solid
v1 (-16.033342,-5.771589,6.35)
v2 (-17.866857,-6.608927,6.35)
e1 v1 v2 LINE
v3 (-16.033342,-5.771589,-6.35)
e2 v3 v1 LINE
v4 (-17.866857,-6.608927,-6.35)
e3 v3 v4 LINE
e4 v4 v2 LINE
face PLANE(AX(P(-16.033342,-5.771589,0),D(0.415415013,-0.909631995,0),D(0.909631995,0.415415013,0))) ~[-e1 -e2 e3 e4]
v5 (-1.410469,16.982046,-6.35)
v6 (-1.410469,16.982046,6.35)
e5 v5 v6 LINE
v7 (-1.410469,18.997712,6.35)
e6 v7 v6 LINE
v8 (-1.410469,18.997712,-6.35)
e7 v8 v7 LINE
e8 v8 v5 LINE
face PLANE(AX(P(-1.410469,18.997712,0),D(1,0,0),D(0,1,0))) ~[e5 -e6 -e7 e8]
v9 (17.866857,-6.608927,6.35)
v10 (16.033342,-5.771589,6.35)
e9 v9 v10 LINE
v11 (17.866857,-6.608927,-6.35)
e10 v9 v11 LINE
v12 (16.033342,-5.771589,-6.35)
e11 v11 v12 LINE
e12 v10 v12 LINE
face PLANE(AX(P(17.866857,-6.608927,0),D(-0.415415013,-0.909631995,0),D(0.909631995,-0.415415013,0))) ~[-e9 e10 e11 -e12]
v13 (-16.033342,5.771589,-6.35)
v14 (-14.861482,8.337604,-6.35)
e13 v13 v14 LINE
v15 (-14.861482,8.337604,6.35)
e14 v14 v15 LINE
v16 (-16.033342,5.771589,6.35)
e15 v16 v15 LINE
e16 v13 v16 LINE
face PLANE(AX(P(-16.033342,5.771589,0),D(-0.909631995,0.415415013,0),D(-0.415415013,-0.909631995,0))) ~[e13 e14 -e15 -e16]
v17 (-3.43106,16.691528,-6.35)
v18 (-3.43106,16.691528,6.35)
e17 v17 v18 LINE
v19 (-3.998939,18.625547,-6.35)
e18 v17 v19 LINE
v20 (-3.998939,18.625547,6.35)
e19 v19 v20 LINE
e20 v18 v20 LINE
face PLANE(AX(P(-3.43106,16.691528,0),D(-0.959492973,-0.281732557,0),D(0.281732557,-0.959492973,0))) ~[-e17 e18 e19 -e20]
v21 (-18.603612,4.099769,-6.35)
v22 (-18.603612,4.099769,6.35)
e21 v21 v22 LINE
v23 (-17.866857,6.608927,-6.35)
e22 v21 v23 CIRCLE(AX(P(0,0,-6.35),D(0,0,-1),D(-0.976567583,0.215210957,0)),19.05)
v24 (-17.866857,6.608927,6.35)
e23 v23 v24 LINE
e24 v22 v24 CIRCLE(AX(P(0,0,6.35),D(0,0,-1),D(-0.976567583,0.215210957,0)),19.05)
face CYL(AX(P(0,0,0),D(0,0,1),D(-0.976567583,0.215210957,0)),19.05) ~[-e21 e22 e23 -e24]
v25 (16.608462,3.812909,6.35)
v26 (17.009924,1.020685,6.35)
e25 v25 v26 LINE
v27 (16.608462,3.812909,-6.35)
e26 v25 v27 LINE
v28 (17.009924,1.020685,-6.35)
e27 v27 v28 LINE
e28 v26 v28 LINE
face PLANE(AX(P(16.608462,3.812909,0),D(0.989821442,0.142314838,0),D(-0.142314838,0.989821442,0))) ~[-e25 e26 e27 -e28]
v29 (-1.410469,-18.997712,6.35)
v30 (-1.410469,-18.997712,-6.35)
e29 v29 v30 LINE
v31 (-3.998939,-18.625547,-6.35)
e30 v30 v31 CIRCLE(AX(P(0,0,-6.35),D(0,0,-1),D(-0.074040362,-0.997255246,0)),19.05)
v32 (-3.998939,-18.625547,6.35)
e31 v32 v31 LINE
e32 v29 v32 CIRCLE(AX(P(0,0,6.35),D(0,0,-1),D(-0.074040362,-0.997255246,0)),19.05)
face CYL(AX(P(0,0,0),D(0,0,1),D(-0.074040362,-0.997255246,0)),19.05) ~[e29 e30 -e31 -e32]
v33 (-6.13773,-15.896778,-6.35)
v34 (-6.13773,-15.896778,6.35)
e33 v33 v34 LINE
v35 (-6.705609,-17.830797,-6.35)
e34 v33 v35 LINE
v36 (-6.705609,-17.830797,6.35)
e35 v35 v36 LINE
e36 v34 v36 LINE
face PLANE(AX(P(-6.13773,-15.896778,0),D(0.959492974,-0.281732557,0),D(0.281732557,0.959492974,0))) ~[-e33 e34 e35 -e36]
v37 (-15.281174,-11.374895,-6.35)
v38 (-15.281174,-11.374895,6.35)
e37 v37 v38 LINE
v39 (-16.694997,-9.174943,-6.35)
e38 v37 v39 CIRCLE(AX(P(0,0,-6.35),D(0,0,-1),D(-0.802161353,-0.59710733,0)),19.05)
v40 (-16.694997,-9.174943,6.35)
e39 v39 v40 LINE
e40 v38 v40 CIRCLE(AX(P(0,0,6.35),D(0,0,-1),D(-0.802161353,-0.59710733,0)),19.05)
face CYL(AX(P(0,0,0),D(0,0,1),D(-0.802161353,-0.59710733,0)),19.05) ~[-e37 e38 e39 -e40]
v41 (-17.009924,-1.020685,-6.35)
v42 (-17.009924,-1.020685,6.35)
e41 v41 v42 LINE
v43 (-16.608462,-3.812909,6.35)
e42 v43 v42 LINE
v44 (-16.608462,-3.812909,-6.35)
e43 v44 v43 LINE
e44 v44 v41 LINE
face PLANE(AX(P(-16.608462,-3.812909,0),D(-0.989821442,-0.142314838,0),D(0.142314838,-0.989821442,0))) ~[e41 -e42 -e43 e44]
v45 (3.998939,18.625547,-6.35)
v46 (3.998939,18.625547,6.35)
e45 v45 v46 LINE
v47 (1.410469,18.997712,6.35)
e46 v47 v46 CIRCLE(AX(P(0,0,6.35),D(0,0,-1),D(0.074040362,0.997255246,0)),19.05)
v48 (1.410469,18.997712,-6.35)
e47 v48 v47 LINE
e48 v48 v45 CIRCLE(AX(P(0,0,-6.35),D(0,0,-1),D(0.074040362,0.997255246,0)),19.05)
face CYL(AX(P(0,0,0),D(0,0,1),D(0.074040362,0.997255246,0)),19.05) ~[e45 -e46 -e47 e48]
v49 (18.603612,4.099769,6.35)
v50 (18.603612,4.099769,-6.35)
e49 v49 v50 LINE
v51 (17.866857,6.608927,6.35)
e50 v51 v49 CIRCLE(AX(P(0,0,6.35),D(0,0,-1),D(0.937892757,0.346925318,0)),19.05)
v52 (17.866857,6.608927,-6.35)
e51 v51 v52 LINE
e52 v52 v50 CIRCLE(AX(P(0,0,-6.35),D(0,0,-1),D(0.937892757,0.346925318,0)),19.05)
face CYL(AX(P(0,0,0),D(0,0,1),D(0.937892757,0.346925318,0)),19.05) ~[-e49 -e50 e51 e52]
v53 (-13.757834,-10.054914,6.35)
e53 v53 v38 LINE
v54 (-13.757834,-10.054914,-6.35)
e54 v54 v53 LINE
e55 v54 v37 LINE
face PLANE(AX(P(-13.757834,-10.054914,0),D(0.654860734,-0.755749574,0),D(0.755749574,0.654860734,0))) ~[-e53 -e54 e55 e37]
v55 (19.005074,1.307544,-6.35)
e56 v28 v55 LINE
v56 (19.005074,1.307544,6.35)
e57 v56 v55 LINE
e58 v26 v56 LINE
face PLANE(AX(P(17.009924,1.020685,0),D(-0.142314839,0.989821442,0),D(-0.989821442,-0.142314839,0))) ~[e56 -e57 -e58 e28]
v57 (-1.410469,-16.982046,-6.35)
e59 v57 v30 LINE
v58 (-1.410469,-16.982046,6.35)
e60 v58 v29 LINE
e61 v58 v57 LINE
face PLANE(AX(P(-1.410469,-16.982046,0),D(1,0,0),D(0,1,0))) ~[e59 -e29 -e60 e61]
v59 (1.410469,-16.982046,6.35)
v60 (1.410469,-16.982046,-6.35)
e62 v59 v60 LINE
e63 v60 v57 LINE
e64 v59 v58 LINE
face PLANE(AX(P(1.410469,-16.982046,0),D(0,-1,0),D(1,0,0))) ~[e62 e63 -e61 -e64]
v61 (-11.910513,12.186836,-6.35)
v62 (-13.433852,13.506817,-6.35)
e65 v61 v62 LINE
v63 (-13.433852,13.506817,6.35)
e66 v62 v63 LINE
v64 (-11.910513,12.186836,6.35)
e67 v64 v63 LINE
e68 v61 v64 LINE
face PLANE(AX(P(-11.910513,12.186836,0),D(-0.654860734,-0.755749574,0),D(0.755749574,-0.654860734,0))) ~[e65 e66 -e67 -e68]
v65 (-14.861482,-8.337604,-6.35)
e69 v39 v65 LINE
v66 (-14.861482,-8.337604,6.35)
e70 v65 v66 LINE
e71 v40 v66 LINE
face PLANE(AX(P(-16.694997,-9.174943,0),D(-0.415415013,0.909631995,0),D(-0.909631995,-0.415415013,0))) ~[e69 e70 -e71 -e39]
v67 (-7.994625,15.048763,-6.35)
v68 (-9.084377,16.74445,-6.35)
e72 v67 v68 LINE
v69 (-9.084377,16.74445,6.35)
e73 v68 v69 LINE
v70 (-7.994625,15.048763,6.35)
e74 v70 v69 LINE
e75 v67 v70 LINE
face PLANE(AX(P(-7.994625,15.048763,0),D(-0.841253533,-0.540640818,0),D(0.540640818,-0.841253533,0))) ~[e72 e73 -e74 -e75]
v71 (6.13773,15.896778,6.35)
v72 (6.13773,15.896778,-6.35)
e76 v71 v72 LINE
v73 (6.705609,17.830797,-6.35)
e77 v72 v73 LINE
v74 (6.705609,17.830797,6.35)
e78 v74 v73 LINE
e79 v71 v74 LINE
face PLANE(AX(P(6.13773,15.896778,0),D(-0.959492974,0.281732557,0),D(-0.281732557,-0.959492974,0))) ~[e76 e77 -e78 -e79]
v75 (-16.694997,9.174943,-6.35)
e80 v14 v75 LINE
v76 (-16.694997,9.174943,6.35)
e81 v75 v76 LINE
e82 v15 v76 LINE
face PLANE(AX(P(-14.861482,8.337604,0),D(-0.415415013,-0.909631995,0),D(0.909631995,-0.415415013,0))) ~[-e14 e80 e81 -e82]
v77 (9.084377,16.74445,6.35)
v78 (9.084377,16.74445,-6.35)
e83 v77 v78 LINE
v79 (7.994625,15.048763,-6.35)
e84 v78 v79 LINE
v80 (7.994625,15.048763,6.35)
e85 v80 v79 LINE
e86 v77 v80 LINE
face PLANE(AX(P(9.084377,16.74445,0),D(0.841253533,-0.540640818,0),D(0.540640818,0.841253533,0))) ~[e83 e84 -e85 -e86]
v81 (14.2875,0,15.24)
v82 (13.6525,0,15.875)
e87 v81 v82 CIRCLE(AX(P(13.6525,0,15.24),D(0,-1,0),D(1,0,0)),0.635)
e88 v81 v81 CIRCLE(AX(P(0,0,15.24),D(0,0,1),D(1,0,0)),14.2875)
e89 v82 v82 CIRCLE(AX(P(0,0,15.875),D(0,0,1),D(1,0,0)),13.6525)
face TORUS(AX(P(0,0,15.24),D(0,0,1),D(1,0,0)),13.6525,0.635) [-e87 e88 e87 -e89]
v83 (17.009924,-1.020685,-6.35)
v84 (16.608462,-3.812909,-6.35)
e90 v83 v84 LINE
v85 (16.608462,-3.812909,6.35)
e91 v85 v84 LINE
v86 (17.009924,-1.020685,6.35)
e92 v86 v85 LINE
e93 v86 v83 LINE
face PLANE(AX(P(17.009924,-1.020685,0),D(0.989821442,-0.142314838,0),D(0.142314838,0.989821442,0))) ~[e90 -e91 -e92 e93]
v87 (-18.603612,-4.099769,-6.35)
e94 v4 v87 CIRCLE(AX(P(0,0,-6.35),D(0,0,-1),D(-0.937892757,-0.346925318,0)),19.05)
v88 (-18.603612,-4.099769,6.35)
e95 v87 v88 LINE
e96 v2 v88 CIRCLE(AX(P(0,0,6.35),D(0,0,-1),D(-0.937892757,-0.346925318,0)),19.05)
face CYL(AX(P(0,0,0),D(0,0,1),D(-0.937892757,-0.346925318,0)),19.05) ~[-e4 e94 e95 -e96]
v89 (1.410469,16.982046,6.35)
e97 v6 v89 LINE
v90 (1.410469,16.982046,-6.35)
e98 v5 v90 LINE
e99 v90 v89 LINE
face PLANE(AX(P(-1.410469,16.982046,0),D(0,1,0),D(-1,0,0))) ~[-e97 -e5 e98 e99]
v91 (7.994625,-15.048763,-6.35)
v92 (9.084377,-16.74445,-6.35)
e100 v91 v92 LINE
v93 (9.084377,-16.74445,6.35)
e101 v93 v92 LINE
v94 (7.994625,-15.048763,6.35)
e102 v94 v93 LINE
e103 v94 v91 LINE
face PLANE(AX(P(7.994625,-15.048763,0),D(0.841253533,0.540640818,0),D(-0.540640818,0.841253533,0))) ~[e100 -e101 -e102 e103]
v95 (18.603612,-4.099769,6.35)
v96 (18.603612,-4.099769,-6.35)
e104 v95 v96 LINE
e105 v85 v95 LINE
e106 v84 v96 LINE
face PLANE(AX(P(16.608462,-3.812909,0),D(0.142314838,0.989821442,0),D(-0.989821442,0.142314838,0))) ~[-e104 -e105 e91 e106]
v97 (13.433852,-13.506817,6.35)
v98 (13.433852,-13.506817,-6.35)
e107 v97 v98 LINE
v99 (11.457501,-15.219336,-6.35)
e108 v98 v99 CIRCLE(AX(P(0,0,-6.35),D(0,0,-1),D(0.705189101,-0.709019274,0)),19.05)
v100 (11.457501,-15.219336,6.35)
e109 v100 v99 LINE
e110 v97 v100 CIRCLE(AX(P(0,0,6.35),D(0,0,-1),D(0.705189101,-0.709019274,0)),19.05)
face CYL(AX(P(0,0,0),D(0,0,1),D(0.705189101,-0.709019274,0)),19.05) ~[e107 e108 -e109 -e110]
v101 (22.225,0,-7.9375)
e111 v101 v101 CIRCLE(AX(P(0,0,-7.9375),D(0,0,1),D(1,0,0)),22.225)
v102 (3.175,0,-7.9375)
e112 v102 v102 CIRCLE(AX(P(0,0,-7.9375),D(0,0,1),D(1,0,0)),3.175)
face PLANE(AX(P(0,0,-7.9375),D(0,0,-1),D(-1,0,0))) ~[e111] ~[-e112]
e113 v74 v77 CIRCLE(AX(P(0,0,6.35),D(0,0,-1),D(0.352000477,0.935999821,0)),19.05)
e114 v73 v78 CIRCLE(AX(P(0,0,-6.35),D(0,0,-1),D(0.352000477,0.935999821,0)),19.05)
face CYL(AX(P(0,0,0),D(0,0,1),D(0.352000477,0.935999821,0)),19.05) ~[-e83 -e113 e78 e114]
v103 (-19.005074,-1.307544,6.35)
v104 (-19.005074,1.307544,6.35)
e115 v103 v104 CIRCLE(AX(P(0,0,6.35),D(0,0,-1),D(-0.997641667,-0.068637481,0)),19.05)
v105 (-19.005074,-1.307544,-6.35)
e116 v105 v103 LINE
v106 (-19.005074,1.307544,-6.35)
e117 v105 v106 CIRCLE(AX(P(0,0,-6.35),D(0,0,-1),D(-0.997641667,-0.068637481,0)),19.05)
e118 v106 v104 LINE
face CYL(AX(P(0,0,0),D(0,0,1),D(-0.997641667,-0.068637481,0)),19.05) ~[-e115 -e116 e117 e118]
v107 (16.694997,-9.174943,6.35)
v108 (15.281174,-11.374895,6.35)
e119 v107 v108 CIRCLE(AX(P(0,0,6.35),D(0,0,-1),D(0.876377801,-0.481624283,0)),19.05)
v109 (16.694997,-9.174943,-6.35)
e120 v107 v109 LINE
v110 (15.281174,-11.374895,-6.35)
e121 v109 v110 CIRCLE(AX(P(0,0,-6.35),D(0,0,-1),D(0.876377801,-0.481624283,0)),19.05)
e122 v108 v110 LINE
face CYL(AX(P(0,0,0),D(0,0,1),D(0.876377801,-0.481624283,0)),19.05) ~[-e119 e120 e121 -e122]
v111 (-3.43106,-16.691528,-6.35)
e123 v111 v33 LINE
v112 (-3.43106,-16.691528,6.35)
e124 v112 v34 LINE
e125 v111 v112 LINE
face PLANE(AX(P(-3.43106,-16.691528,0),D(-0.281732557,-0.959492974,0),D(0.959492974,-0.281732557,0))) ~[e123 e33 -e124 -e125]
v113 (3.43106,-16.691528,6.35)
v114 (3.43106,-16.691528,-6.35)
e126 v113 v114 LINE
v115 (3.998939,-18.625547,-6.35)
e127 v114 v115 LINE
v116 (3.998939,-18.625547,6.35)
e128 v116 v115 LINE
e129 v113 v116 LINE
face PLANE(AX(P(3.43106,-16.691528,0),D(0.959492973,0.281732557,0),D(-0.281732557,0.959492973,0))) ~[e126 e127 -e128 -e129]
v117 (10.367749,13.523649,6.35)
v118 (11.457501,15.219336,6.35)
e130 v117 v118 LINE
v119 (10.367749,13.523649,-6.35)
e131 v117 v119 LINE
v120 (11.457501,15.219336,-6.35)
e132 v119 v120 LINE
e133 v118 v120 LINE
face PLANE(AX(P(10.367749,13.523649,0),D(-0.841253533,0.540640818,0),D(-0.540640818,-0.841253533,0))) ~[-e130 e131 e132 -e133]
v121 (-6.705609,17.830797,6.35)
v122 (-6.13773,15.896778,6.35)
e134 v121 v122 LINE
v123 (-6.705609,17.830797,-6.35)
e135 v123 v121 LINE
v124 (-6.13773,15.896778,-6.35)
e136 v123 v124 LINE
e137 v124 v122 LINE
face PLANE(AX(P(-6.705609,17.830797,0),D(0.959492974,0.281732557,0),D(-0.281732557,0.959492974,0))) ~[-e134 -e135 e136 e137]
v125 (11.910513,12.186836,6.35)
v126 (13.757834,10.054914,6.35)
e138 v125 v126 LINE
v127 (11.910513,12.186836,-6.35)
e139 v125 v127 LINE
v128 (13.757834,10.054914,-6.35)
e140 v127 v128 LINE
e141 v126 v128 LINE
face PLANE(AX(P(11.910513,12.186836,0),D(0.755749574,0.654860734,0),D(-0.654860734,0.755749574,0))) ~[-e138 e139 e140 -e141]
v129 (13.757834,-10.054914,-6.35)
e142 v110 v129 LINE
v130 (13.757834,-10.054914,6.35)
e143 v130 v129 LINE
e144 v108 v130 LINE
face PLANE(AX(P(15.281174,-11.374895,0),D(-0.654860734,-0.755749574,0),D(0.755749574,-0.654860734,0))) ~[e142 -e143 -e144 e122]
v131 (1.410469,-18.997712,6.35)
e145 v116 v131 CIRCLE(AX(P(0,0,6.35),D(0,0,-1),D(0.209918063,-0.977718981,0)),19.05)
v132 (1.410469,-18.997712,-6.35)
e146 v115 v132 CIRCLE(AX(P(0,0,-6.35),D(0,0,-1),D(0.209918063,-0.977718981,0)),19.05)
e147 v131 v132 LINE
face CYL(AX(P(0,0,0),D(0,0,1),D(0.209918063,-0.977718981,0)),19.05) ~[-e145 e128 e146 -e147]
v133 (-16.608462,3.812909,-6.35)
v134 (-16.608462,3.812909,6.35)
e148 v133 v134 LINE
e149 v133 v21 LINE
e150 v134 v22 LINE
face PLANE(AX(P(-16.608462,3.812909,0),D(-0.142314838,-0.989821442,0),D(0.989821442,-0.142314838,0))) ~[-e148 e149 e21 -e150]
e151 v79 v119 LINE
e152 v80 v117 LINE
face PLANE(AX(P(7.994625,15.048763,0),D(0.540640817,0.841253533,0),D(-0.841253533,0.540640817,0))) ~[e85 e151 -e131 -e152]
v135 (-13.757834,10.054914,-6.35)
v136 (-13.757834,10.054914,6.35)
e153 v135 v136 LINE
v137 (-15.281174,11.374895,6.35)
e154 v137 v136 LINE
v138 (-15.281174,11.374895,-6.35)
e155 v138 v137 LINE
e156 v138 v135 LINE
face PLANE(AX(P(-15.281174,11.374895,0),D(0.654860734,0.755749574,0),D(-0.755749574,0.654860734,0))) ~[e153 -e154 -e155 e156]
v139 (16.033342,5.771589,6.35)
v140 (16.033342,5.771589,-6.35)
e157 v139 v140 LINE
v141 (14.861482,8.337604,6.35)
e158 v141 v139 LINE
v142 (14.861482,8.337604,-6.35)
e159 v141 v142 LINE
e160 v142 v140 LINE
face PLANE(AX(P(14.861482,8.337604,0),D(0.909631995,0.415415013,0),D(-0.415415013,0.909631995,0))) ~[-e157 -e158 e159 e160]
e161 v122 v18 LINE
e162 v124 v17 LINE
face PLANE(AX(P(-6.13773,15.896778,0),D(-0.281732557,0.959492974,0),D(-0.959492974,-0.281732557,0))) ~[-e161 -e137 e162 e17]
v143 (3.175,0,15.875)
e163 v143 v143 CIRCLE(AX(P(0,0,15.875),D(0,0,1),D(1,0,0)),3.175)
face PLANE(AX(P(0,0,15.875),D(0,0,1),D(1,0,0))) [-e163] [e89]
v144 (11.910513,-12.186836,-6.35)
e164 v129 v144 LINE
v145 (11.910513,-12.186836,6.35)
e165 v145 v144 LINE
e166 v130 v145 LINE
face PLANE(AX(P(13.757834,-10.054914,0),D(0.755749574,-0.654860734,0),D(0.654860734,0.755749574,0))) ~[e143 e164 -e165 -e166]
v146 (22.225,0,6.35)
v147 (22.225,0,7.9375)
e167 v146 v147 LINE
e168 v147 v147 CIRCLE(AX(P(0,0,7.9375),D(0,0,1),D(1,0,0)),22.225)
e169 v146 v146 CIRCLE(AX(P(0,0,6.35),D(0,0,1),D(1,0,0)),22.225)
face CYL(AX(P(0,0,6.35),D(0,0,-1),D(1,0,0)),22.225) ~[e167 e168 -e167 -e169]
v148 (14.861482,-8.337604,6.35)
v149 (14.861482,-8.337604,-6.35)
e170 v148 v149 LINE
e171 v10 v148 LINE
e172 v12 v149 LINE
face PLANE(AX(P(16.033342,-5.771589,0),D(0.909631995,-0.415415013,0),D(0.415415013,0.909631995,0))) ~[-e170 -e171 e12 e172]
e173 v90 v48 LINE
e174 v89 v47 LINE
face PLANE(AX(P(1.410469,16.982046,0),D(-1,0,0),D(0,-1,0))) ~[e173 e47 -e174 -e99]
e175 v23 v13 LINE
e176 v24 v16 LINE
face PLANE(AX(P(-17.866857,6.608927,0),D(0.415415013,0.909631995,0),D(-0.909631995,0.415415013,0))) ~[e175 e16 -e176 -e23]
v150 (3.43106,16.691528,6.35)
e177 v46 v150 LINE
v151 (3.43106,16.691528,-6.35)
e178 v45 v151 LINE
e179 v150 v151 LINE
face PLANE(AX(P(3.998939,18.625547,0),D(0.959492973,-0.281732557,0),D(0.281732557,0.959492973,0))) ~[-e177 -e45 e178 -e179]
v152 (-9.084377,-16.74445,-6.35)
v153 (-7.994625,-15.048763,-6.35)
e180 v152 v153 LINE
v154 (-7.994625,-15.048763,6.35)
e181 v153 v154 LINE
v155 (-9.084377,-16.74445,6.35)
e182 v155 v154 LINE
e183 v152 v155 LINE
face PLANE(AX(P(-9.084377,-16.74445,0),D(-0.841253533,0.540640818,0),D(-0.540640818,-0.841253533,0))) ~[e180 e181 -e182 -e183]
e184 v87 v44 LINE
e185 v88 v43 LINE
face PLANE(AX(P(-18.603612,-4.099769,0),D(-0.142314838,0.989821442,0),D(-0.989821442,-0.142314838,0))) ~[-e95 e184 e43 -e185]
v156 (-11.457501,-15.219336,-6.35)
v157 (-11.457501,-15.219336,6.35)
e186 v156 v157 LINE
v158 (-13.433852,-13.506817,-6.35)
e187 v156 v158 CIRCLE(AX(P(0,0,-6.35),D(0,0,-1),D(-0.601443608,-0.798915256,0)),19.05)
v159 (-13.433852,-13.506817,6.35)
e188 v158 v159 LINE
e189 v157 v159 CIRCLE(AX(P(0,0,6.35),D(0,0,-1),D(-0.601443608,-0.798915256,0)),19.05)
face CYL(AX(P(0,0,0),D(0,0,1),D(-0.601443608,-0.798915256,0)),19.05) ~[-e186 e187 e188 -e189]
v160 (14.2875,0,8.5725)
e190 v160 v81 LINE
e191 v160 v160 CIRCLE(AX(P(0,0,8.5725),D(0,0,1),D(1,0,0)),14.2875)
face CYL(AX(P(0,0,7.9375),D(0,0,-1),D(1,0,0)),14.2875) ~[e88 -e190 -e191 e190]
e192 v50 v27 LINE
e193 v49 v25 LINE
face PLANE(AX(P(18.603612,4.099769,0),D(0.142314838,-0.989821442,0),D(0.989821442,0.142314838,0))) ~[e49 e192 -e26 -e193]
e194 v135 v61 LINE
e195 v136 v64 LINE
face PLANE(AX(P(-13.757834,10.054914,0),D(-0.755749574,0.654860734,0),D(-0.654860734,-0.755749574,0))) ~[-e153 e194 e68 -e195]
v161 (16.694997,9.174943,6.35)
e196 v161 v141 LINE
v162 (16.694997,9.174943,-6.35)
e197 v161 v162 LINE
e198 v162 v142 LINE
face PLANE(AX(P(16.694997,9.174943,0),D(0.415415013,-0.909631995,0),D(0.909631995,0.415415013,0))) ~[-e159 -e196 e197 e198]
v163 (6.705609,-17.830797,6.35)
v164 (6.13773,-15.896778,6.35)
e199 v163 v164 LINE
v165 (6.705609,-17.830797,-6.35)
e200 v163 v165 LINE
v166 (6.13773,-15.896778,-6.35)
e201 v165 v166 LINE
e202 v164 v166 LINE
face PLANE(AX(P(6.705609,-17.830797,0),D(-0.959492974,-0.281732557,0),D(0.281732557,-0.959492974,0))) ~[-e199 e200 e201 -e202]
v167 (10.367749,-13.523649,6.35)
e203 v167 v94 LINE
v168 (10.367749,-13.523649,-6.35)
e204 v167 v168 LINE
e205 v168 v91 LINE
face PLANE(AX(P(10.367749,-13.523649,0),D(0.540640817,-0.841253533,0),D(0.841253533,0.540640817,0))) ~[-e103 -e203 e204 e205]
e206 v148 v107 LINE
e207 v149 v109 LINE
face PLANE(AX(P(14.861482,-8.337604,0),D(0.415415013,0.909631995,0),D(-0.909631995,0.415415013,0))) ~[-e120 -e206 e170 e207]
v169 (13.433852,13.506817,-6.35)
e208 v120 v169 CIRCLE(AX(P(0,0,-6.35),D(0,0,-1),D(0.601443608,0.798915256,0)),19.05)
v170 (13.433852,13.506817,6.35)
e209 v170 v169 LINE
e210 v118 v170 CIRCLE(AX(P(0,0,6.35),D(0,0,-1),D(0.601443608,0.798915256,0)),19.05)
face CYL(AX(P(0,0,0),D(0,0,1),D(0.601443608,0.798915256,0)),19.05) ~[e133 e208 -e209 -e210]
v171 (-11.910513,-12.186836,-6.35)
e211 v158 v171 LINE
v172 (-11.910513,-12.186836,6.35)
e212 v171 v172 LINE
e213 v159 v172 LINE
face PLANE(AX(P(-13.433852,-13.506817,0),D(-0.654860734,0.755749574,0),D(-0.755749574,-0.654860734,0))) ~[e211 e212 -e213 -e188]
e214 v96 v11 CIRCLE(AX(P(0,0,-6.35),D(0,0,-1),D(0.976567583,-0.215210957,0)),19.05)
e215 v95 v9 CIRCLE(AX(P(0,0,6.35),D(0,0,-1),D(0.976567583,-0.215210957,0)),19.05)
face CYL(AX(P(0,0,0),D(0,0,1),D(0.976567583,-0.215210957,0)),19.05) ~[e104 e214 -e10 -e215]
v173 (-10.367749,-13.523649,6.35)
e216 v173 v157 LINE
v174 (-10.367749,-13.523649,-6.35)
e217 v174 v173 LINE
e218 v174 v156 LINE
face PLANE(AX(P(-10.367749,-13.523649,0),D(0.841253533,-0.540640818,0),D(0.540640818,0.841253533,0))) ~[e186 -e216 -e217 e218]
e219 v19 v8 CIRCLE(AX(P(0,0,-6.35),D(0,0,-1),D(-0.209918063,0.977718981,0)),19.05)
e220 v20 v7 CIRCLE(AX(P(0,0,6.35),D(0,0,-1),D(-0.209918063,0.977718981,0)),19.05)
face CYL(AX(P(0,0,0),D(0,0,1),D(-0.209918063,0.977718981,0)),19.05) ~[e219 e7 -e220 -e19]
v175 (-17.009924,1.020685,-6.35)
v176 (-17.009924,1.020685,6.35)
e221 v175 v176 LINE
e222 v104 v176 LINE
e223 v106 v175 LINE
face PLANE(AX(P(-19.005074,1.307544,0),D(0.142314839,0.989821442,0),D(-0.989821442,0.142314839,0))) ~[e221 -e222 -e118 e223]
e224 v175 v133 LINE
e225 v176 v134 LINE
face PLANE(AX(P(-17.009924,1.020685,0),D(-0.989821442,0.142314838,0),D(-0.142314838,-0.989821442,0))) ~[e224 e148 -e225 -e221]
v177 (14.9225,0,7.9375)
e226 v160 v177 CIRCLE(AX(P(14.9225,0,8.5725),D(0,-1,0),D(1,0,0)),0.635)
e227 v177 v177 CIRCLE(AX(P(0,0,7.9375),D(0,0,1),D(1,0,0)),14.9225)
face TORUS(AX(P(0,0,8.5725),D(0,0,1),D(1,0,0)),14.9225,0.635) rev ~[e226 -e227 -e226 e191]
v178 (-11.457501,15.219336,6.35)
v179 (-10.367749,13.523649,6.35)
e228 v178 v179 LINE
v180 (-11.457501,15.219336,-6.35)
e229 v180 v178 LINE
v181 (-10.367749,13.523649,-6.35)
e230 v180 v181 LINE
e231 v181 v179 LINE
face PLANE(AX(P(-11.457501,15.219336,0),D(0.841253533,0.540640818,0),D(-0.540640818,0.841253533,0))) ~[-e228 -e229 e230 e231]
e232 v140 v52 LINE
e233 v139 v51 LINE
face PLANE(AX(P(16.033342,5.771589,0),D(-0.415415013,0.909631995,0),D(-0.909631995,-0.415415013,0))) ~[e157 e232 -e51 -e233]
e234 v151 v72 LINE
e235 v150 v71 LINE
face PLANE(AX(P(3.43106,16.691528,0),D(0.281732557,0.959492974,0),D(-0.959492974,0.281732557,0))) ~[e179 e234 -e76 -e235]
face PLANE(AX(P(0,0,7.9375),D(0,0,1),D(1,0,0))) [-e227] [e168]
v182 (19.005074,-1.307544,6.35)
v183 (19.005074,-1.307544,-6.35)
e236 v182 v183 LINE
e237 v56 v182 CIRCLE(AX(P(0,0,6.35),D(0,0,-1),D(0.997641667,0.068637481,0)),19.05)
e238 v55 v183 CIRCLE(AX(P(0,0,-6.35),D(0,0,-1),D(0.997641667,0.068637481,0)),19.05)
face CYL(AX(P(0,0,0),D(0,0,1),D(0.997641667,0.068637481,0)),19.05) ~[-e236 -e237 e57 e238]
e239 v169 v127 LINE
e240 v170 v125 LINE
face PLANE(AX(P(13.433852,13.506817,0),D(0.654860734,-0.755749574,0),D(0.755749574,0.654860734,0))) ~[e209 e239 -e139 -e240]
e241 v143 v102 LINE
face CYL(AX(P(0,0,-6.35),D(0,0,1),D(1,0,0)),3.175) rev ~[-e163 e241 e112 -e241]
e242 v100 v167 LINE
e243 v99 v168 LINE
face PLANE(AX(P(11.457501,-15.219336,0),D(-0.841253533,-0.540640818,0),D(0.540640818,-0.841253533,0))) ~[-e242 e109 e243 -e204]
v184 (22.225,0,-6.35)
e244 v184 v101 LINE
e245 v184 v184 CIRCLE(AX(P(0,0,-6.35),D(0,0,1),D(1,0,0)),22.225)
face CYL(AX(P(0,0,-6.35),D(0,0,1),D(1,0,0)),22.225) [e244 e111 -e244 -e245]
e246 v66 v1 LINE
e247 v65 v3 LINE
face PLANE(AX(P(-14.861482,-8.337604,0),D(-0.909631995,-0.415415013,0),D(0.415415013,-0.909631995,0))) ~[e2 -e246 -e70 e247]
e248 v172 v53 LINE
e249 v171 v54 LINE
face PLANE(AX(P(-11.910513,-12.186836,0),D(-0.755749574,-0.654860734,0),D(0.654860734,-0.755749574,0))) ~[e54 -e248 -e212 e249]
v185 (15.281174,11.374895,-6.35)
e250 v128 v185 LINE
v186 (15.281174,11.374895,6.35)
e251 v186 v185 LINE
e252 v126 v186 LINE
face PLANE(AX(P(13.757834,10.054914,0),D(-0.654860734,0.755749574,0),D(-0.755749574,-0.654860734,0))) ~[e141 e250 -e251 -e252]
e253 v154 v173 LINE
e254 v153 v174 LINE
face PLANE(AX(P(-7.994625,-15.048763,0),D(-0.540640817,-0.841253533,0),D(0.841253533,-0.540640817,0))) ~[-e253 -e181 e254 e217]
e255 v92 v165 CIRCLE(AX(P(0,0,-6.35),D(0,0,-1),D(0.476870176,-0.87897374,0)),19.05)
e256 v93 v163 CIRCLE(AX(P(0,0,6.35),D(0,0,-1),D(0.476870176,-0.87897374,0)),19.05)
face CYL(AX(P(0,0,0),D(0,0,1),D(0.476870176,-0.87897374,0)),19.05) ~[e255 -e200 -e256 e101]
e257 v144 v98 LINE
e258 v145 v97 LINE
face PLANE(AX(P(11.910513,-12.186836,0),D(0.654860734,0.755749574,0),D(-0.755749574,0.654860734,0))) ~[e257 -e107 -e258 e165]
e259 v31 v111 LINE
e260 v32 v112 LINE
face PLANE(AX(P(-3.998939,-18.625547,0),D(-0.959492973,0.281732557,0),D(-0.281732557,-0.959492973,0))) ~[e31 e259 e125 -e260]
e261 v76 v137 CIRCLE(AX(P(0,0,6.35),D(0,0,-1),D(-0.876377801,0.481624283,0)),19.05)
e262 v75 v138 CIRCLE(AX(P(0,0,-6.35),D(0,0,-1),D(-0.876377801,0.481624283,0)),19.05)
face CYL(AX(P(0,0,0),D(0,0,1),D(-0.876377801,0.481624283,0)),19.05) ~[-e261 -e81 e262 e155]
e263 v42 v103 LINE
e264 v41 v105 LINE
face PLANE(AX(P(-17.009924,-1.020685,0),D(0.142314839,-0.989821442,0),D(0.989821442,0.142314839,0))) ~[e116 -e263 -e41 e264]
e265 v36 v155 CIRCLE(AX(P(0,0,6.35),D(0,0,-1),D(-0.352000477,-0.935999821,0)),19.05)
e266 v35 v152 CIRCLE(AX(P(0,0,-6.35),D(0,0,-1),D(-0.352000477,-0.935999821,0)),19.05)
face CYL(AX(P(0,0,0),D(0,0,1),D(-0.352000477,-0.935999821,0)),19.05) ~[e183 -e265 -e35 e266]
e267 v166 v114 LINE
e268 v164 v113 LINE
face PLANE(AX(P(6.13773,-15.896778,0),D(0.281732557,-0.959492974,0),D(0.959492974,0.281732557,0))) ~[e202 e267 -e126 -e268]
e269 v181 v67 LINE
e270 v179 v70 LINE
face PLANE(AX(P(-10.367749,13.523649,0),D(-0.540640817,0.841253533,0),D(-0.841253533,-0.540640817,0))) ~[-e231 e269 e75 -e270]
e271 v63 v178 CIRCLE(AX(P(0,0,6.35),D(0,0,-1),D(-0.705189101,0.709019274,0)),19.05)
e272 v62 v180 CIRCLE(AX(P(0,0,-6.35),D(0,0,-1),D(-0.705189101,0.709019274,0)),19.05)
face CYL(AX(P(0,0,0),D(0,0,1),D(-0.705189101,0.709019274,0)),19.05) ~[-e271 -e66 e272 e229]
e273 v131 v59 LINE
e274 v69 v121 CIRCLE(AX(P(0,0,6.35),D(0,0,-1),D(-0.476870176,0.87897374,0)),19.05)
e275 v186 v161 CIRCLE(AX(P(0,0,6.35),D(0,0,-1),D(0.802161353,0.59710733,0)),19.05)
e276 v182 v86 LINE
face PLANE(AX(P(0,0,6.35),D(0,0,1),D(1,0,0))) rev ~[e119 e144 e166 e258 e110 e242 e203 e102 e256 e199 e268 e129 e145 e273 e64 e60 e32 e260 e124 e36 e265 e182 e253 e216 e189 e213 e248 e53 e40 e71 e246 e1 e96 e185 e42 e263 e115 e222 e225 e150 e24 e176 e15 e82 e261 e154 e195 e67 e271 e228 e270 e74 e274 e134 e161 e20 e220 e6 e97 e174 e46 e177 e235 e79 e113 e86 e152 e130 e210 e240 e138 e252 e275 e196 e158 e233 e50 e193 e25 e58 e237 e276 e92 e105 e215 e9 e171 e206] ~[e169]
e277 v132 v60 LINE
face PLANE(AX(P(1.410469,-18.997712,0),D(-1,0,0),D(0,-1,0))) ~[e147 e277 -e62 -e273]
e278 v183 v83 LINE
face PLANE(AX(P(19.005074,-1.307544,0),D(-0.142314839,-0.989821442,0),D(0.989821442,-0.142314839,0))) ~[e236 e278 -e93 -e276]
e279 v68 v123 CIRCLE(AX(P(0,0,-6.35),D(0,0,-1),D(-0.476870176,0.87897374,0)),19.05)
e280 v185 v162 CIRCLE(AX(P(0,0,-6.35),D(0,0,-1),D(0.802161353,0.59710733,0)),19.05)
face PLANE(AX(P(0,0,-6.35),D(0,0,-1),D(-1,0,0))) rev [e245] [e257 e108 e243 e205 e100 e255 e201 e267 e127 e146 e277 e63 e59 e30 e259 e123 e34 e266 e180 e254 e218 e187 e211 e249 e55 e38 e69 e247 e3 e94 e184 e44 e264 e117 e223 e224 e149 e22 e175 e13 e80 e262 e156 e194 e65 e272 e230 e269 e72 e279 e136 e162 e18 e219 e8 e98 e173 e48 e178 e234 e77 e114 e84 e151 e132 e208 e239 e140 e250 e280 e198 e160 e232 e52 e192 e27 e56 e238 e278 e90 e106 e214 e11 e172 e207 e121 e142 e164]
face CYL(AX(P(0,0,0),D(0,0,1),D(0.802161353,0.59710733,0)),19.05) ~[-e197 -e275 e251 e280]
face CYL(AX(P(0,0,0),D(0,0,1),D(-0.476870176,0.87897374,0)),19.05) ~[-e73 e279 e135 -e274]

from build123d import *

# Parameters (mm, degrees)
SKETCH1_R           = 3.175
BOSS_EXTRUDE3_DEPTH = 6.35
SKETCH2_R           = 22.225
SKETCH2_R_2         = 3.175
BOSS_EXTRUDE4_DEPTH = 1.5875
SKETCH3_R           = 14.2875
SKETCH3_R_2         = 3.175
BOSS_EXTRUDE5_DEPTH = 7.9375
FILLET1_R           = 0.635


with BuildPart() as part:
    # Sketch1 → Boss-Extrude3 (new body)
    with BuildSketch(Plane.XY):
        with BuildLine():
            Line((3.998939094, 18.625546599), (3.431060125, 16.691528444))
            Line((3.431060125, 16.691528444), (6.137730131, 15.896778422))
            Line((6.137730131, 15.896778422), (6.705609099, 17.830796578))
            ThreePointArc((6.705609099, 17.830796578), (7.913655998, 17.328489512), (9.084376828, 16.744449756))
            Line((9.084376828, 16.744449756), (7.994625068, 15.048762919))
            Line((7.994625068, 15.048762919), (10.367748965, 13.523648797))
            Line((10.367748965, 13.523648797), (11.457500725, 15.219335634))
            ThreePointArc((11.457500725, 15.219335634), (12.475096982, 14.397029391), (13.433852379, 13.506817177))
            Line((13.433852379, 13.506817177), (11.910513034, 12.186836121))
            Line((11.910513034, 12.186836121), (13.757834437, 10.054913573))
            Line((13.757834437, 10.054913573), (15.281173782, 11.37489463))
            ThreePointArc((15.281173782, 11.37489463), (16.0258798, 10.299207573), (16.694997104, 9.174942598))
            Line((16.694997104, 9.174942598), (14.861482068, 8.337604338))
            Line((14.861482068, 8.337604338), (16.033341984, 5.771589051))
            Line((16.033341984, 5.771589051), (17.86685702, 6.608927312))
            ThreePointArc((17.86685702, 6.608927312), (18.278341147, 5.367005208), (18.603612453, 4.099768736))
            Line((18.603612453, 4.099768736), (16.60846221, 3.812909438))
            Line((16.60846221, 3.812909438), (17.009923518, 1.020684709))
            Line((17.009923518, 1.020684709), (19.005073761, 1.307544008))
            ThreePointArc((19.005073761, 1.307544008), (19.05, 0), (19.005073761, -1.307544008))
            Line((19.005073761, -1.307544008), (17.009923518, -1.020684709))
            Line((17.009923518, -1.020684709), (16.60846221, -3.812909438))
            Line((16.60846221, -3.812909438), (18.603612453, -4.099768736))
            ThreePointArc((18.603612453, -4.099768736), (18.278341147, -5.367005208), (17.86685702, -6.608927312))
            Line((17.86685702, -6.608927312), (16.033341984, -5.771589051))
            Line((16.033341984, -5.771589051), (14.861482068, -8.337604338))
            Line((14.861482068, -8.337604338), (16.694997104, -9.174942598))
            ThreePointArc((16.694997104, -9.174942598), (16.0258798, -10.299207573), (15.281173782, -11.37489463))
            Line((15.281173782, -11.37489463), (13.757834437, -10.054913573))
            Line((13.757834437, -10.054913573), (11.910513034, -12.186836121))
            Line((11.910513034, -12.186836121), (13.433852379, -13.506817177))
            ThreePointArc((13.433852379, -13.506817177), (12.475096982, -14.397029391), (11.457500725, -15.219335634))
            Line((11.457500725, -15.219335634), (10.367748965, -13.523648797))
            Line((10.367748965, -13.523648797), (7.994625068, -15.048762919))
            Line((7.994625068, -15.048762919), (9.084376828, -16.744449756))
            ThreePointArc((9.084376828, -16.744449756), (7.913655998, -17.328489512), (6.705609099, -17.830796578))
            Line((6.705609099, -17.830796578), (6.137730131, -15.896778422))
            Line((6.137730131, -15.896778422), (3.431060125, -16.691528444))
            Line((3.431060125, -16.691528444), (3.998939094, -18.625546599))
            ThreePointArc((3.998939094, -18.625546599), (2.711097669, -18.856098468), (1.410468904, -18.997712427))
            Line((1.410468904, -18.997712427), (1.410468904, -16.982045602))
            Line((1.410468904, -16.982045602), (-1.410468904, -16.982045602))
            Line((-1.410468904, -16.982045602), (-1.410468904, -18.997712427))
            ThreePointArc((-1.410468904, -18.997712427), (-2.711097669, -18.856098468), (-3.998939094, -18.625546599))
            Line((-3.998939094, -18.625546599), (-3.431060125, -16.691528444))
            Line((-3.431060125, -16.691528444), (-6.137730131, -15.896778422))
            Line((-6.137730131, -15.896778422), (-6.705609099, -17.830796578))
            ThreePointArc((-6.705609099, -17.830796578), (-7.913655998, -17.328489512), (-9.084376828, -16.744449756))
            Line((-9.084376828, -16.744449756), (-7.994625068, -15.048762919))
            Line((-7.994625068, -15.048762919), (-10.367748965, -13.523648797))
            Line((-10.367748965, -13.523648797), (-11.457500725, -15.219335634))
            ThreePointArc((-11.457500725, -15.219335634), (-12.475096982, -14.397029391), (-13.433852379, -13.506817177))
            Line((-13.433852379, -13.506817177), (-11.910513034, -12.186836121))
            Line((-11.910513034, -12.186836121), (-13.757834437, -10.054913573))
            Line((-13.757834437, -10.054913573), (-15.281173782, -11.37489463))
            ThreePointArc((-15.281173782, -11.37489463), (-16.0258798, -10.299207573), (-16.694997104, -9.174942598))
            Line((-16.694997104, -9.174942598), (-14.861482068, -8.337604338))
            Line((-14.861482068, -8.337604338), (-16.033341984, -5.771589051))
            Line((-16.033341984, -5.771589051), (-17.86685702, -6.608927312))
            ThreePointArc((-17.86685702, -6.608927312), (-18.278341147, -5.367005208), (-18.603612453, -4.099768736))
            Line((-18.603612453, -4.099768736), (-16.60846221, -3.812909438))
            Line((-16.60846221, -3.812909438), (-17.009923518, -1.020684709))
            Line((-17.009923518, -1.020684709), (-19.005073761, -1.307544008))
            ThreePointArc((-19.005073761, -1.307544008), (-19.05, 0), (-19.005073761, 1.307544008))
            Line((-19.005073761, 1.307544008), (-17.009923518, 1.020684709))
            Line((-17.009923518, 1.020684709), (-16.60846221, 3.812909438))
            Line((-16.60846221, 3.812909438), (-18.603612453, 4.099768736))
            ThreePointArc((-18.603612453, 4.099768736), (-18.278341147, 5.367005208), (-17.86685702, 6.608927312))
            Line((-17.86685702, 6.608927312), (-16.033341984, 5.771589051))
            Line((-16.033341984, 5.771589051), (-14.861482068, 8.337604338))
            Line((-14.861482068, 8.337604338), (-16.694997104, 9.174942598))
            ThreePointArc((-16.694997104, 9.174942598), (-16.0258798, 10.299207573), (-15.281173782, 11.37489463))
            Line((-15.281173782, 11.37489463), (-13.757834437, 10.054913573))
            Line((-13.757834437, 10.054913573), (-11.910513034, 12.186836121))
            Line((-11.910513034, 12.186836121), (-13.433852379, 13.506817177))
            ThreePointArc((-13.433852379, 13.506817177), (-12.475096982, 14.397029391), (-11.457500725, 15.219335634))
            Line((-11.457500725, 15.219335634), (-10.367748965, 13.523648797))
            Line((-10.367748965, 13.523648797), (-7.994625068, 15.048762919))
            Line((-7.994625068, 15.048762919), (-9.084376828, 16.744449756))
            ThreePointArc((-9.084376828, 16.744449756), (-7.913655998, 17.328489512), (-6.705609099, 17.830796578))
            Line((-6.705609099, 17.830796578), (-6.137730131, 15.896778422))
            Line((-6.137730131, 15.896778422), (-3.431060125, 16.691528444))
            Line((-3.431060125, 16.691528444), (-3.998939094, 18.625546599))
            ThreePointArc((-3.998939094, 18.625546599), (-2.711097669, 18.856098468), (-1.410468904, 18.997712427))
            Line((-1.410468904, 18.997712427), (-1.410468904, 16.982045602))
            Line((-1.410468904, 16.982045602), (1.410468904, 16.982045602))
            Line((1.410468904, 16.982045602), (1.410468904, 18.997712427))
            ThreePointArc((1.410468904, 18.997712427), (2.711097669, 18.856098468), (3.998939094, 18.625546599))
        make_face()
        Circle(SKETCH1_R, mode=Mode.SUBTRACT)
    boss_extrude3 = extrude(amount=BOSS_EXTRUDE3_DEPTH)

    # Sketch2 → Boss-Extrude4 (add)
    with BuildSketch(Plane.XY.offset(6.35)):
        Circle(SKETCH2_R)
        Circle(SKETCH2_R_2, mode=Mode.SUBTRACT)
    boss_extrude4 = extrude(amount=BOSS_EXTRUDE4_DEPTH)

    # Sketch3 → Boss-Extrude5 (add)
    with BuildSketch(Plane.XY.offset(7.9375)):
        Circle(SKETCH3_R)
        Circle(SKETCH3_R_2, mode=Mode.SUBTRACT)
    extrude(amount=BOSS_EXTRUDE5_DEPTH)

    # Fillet1
    fillet1_edges = [part.edges().sort_by_distance(p)[0] for p in [
        (-14.2875, 0, 7.9375),
        (-14.2875, 0, 15.875),
    ]]
    fillet(fillet1_edges, radius=FILLET1_R)

    # Mirror1: Boss-Extrude3, Boss-Extrude4 across plane
    add(boss_extrude3.mirror(Plane.XY))
    add(boss_extrude4.mirror(Plane.XY))


solid = part.part
